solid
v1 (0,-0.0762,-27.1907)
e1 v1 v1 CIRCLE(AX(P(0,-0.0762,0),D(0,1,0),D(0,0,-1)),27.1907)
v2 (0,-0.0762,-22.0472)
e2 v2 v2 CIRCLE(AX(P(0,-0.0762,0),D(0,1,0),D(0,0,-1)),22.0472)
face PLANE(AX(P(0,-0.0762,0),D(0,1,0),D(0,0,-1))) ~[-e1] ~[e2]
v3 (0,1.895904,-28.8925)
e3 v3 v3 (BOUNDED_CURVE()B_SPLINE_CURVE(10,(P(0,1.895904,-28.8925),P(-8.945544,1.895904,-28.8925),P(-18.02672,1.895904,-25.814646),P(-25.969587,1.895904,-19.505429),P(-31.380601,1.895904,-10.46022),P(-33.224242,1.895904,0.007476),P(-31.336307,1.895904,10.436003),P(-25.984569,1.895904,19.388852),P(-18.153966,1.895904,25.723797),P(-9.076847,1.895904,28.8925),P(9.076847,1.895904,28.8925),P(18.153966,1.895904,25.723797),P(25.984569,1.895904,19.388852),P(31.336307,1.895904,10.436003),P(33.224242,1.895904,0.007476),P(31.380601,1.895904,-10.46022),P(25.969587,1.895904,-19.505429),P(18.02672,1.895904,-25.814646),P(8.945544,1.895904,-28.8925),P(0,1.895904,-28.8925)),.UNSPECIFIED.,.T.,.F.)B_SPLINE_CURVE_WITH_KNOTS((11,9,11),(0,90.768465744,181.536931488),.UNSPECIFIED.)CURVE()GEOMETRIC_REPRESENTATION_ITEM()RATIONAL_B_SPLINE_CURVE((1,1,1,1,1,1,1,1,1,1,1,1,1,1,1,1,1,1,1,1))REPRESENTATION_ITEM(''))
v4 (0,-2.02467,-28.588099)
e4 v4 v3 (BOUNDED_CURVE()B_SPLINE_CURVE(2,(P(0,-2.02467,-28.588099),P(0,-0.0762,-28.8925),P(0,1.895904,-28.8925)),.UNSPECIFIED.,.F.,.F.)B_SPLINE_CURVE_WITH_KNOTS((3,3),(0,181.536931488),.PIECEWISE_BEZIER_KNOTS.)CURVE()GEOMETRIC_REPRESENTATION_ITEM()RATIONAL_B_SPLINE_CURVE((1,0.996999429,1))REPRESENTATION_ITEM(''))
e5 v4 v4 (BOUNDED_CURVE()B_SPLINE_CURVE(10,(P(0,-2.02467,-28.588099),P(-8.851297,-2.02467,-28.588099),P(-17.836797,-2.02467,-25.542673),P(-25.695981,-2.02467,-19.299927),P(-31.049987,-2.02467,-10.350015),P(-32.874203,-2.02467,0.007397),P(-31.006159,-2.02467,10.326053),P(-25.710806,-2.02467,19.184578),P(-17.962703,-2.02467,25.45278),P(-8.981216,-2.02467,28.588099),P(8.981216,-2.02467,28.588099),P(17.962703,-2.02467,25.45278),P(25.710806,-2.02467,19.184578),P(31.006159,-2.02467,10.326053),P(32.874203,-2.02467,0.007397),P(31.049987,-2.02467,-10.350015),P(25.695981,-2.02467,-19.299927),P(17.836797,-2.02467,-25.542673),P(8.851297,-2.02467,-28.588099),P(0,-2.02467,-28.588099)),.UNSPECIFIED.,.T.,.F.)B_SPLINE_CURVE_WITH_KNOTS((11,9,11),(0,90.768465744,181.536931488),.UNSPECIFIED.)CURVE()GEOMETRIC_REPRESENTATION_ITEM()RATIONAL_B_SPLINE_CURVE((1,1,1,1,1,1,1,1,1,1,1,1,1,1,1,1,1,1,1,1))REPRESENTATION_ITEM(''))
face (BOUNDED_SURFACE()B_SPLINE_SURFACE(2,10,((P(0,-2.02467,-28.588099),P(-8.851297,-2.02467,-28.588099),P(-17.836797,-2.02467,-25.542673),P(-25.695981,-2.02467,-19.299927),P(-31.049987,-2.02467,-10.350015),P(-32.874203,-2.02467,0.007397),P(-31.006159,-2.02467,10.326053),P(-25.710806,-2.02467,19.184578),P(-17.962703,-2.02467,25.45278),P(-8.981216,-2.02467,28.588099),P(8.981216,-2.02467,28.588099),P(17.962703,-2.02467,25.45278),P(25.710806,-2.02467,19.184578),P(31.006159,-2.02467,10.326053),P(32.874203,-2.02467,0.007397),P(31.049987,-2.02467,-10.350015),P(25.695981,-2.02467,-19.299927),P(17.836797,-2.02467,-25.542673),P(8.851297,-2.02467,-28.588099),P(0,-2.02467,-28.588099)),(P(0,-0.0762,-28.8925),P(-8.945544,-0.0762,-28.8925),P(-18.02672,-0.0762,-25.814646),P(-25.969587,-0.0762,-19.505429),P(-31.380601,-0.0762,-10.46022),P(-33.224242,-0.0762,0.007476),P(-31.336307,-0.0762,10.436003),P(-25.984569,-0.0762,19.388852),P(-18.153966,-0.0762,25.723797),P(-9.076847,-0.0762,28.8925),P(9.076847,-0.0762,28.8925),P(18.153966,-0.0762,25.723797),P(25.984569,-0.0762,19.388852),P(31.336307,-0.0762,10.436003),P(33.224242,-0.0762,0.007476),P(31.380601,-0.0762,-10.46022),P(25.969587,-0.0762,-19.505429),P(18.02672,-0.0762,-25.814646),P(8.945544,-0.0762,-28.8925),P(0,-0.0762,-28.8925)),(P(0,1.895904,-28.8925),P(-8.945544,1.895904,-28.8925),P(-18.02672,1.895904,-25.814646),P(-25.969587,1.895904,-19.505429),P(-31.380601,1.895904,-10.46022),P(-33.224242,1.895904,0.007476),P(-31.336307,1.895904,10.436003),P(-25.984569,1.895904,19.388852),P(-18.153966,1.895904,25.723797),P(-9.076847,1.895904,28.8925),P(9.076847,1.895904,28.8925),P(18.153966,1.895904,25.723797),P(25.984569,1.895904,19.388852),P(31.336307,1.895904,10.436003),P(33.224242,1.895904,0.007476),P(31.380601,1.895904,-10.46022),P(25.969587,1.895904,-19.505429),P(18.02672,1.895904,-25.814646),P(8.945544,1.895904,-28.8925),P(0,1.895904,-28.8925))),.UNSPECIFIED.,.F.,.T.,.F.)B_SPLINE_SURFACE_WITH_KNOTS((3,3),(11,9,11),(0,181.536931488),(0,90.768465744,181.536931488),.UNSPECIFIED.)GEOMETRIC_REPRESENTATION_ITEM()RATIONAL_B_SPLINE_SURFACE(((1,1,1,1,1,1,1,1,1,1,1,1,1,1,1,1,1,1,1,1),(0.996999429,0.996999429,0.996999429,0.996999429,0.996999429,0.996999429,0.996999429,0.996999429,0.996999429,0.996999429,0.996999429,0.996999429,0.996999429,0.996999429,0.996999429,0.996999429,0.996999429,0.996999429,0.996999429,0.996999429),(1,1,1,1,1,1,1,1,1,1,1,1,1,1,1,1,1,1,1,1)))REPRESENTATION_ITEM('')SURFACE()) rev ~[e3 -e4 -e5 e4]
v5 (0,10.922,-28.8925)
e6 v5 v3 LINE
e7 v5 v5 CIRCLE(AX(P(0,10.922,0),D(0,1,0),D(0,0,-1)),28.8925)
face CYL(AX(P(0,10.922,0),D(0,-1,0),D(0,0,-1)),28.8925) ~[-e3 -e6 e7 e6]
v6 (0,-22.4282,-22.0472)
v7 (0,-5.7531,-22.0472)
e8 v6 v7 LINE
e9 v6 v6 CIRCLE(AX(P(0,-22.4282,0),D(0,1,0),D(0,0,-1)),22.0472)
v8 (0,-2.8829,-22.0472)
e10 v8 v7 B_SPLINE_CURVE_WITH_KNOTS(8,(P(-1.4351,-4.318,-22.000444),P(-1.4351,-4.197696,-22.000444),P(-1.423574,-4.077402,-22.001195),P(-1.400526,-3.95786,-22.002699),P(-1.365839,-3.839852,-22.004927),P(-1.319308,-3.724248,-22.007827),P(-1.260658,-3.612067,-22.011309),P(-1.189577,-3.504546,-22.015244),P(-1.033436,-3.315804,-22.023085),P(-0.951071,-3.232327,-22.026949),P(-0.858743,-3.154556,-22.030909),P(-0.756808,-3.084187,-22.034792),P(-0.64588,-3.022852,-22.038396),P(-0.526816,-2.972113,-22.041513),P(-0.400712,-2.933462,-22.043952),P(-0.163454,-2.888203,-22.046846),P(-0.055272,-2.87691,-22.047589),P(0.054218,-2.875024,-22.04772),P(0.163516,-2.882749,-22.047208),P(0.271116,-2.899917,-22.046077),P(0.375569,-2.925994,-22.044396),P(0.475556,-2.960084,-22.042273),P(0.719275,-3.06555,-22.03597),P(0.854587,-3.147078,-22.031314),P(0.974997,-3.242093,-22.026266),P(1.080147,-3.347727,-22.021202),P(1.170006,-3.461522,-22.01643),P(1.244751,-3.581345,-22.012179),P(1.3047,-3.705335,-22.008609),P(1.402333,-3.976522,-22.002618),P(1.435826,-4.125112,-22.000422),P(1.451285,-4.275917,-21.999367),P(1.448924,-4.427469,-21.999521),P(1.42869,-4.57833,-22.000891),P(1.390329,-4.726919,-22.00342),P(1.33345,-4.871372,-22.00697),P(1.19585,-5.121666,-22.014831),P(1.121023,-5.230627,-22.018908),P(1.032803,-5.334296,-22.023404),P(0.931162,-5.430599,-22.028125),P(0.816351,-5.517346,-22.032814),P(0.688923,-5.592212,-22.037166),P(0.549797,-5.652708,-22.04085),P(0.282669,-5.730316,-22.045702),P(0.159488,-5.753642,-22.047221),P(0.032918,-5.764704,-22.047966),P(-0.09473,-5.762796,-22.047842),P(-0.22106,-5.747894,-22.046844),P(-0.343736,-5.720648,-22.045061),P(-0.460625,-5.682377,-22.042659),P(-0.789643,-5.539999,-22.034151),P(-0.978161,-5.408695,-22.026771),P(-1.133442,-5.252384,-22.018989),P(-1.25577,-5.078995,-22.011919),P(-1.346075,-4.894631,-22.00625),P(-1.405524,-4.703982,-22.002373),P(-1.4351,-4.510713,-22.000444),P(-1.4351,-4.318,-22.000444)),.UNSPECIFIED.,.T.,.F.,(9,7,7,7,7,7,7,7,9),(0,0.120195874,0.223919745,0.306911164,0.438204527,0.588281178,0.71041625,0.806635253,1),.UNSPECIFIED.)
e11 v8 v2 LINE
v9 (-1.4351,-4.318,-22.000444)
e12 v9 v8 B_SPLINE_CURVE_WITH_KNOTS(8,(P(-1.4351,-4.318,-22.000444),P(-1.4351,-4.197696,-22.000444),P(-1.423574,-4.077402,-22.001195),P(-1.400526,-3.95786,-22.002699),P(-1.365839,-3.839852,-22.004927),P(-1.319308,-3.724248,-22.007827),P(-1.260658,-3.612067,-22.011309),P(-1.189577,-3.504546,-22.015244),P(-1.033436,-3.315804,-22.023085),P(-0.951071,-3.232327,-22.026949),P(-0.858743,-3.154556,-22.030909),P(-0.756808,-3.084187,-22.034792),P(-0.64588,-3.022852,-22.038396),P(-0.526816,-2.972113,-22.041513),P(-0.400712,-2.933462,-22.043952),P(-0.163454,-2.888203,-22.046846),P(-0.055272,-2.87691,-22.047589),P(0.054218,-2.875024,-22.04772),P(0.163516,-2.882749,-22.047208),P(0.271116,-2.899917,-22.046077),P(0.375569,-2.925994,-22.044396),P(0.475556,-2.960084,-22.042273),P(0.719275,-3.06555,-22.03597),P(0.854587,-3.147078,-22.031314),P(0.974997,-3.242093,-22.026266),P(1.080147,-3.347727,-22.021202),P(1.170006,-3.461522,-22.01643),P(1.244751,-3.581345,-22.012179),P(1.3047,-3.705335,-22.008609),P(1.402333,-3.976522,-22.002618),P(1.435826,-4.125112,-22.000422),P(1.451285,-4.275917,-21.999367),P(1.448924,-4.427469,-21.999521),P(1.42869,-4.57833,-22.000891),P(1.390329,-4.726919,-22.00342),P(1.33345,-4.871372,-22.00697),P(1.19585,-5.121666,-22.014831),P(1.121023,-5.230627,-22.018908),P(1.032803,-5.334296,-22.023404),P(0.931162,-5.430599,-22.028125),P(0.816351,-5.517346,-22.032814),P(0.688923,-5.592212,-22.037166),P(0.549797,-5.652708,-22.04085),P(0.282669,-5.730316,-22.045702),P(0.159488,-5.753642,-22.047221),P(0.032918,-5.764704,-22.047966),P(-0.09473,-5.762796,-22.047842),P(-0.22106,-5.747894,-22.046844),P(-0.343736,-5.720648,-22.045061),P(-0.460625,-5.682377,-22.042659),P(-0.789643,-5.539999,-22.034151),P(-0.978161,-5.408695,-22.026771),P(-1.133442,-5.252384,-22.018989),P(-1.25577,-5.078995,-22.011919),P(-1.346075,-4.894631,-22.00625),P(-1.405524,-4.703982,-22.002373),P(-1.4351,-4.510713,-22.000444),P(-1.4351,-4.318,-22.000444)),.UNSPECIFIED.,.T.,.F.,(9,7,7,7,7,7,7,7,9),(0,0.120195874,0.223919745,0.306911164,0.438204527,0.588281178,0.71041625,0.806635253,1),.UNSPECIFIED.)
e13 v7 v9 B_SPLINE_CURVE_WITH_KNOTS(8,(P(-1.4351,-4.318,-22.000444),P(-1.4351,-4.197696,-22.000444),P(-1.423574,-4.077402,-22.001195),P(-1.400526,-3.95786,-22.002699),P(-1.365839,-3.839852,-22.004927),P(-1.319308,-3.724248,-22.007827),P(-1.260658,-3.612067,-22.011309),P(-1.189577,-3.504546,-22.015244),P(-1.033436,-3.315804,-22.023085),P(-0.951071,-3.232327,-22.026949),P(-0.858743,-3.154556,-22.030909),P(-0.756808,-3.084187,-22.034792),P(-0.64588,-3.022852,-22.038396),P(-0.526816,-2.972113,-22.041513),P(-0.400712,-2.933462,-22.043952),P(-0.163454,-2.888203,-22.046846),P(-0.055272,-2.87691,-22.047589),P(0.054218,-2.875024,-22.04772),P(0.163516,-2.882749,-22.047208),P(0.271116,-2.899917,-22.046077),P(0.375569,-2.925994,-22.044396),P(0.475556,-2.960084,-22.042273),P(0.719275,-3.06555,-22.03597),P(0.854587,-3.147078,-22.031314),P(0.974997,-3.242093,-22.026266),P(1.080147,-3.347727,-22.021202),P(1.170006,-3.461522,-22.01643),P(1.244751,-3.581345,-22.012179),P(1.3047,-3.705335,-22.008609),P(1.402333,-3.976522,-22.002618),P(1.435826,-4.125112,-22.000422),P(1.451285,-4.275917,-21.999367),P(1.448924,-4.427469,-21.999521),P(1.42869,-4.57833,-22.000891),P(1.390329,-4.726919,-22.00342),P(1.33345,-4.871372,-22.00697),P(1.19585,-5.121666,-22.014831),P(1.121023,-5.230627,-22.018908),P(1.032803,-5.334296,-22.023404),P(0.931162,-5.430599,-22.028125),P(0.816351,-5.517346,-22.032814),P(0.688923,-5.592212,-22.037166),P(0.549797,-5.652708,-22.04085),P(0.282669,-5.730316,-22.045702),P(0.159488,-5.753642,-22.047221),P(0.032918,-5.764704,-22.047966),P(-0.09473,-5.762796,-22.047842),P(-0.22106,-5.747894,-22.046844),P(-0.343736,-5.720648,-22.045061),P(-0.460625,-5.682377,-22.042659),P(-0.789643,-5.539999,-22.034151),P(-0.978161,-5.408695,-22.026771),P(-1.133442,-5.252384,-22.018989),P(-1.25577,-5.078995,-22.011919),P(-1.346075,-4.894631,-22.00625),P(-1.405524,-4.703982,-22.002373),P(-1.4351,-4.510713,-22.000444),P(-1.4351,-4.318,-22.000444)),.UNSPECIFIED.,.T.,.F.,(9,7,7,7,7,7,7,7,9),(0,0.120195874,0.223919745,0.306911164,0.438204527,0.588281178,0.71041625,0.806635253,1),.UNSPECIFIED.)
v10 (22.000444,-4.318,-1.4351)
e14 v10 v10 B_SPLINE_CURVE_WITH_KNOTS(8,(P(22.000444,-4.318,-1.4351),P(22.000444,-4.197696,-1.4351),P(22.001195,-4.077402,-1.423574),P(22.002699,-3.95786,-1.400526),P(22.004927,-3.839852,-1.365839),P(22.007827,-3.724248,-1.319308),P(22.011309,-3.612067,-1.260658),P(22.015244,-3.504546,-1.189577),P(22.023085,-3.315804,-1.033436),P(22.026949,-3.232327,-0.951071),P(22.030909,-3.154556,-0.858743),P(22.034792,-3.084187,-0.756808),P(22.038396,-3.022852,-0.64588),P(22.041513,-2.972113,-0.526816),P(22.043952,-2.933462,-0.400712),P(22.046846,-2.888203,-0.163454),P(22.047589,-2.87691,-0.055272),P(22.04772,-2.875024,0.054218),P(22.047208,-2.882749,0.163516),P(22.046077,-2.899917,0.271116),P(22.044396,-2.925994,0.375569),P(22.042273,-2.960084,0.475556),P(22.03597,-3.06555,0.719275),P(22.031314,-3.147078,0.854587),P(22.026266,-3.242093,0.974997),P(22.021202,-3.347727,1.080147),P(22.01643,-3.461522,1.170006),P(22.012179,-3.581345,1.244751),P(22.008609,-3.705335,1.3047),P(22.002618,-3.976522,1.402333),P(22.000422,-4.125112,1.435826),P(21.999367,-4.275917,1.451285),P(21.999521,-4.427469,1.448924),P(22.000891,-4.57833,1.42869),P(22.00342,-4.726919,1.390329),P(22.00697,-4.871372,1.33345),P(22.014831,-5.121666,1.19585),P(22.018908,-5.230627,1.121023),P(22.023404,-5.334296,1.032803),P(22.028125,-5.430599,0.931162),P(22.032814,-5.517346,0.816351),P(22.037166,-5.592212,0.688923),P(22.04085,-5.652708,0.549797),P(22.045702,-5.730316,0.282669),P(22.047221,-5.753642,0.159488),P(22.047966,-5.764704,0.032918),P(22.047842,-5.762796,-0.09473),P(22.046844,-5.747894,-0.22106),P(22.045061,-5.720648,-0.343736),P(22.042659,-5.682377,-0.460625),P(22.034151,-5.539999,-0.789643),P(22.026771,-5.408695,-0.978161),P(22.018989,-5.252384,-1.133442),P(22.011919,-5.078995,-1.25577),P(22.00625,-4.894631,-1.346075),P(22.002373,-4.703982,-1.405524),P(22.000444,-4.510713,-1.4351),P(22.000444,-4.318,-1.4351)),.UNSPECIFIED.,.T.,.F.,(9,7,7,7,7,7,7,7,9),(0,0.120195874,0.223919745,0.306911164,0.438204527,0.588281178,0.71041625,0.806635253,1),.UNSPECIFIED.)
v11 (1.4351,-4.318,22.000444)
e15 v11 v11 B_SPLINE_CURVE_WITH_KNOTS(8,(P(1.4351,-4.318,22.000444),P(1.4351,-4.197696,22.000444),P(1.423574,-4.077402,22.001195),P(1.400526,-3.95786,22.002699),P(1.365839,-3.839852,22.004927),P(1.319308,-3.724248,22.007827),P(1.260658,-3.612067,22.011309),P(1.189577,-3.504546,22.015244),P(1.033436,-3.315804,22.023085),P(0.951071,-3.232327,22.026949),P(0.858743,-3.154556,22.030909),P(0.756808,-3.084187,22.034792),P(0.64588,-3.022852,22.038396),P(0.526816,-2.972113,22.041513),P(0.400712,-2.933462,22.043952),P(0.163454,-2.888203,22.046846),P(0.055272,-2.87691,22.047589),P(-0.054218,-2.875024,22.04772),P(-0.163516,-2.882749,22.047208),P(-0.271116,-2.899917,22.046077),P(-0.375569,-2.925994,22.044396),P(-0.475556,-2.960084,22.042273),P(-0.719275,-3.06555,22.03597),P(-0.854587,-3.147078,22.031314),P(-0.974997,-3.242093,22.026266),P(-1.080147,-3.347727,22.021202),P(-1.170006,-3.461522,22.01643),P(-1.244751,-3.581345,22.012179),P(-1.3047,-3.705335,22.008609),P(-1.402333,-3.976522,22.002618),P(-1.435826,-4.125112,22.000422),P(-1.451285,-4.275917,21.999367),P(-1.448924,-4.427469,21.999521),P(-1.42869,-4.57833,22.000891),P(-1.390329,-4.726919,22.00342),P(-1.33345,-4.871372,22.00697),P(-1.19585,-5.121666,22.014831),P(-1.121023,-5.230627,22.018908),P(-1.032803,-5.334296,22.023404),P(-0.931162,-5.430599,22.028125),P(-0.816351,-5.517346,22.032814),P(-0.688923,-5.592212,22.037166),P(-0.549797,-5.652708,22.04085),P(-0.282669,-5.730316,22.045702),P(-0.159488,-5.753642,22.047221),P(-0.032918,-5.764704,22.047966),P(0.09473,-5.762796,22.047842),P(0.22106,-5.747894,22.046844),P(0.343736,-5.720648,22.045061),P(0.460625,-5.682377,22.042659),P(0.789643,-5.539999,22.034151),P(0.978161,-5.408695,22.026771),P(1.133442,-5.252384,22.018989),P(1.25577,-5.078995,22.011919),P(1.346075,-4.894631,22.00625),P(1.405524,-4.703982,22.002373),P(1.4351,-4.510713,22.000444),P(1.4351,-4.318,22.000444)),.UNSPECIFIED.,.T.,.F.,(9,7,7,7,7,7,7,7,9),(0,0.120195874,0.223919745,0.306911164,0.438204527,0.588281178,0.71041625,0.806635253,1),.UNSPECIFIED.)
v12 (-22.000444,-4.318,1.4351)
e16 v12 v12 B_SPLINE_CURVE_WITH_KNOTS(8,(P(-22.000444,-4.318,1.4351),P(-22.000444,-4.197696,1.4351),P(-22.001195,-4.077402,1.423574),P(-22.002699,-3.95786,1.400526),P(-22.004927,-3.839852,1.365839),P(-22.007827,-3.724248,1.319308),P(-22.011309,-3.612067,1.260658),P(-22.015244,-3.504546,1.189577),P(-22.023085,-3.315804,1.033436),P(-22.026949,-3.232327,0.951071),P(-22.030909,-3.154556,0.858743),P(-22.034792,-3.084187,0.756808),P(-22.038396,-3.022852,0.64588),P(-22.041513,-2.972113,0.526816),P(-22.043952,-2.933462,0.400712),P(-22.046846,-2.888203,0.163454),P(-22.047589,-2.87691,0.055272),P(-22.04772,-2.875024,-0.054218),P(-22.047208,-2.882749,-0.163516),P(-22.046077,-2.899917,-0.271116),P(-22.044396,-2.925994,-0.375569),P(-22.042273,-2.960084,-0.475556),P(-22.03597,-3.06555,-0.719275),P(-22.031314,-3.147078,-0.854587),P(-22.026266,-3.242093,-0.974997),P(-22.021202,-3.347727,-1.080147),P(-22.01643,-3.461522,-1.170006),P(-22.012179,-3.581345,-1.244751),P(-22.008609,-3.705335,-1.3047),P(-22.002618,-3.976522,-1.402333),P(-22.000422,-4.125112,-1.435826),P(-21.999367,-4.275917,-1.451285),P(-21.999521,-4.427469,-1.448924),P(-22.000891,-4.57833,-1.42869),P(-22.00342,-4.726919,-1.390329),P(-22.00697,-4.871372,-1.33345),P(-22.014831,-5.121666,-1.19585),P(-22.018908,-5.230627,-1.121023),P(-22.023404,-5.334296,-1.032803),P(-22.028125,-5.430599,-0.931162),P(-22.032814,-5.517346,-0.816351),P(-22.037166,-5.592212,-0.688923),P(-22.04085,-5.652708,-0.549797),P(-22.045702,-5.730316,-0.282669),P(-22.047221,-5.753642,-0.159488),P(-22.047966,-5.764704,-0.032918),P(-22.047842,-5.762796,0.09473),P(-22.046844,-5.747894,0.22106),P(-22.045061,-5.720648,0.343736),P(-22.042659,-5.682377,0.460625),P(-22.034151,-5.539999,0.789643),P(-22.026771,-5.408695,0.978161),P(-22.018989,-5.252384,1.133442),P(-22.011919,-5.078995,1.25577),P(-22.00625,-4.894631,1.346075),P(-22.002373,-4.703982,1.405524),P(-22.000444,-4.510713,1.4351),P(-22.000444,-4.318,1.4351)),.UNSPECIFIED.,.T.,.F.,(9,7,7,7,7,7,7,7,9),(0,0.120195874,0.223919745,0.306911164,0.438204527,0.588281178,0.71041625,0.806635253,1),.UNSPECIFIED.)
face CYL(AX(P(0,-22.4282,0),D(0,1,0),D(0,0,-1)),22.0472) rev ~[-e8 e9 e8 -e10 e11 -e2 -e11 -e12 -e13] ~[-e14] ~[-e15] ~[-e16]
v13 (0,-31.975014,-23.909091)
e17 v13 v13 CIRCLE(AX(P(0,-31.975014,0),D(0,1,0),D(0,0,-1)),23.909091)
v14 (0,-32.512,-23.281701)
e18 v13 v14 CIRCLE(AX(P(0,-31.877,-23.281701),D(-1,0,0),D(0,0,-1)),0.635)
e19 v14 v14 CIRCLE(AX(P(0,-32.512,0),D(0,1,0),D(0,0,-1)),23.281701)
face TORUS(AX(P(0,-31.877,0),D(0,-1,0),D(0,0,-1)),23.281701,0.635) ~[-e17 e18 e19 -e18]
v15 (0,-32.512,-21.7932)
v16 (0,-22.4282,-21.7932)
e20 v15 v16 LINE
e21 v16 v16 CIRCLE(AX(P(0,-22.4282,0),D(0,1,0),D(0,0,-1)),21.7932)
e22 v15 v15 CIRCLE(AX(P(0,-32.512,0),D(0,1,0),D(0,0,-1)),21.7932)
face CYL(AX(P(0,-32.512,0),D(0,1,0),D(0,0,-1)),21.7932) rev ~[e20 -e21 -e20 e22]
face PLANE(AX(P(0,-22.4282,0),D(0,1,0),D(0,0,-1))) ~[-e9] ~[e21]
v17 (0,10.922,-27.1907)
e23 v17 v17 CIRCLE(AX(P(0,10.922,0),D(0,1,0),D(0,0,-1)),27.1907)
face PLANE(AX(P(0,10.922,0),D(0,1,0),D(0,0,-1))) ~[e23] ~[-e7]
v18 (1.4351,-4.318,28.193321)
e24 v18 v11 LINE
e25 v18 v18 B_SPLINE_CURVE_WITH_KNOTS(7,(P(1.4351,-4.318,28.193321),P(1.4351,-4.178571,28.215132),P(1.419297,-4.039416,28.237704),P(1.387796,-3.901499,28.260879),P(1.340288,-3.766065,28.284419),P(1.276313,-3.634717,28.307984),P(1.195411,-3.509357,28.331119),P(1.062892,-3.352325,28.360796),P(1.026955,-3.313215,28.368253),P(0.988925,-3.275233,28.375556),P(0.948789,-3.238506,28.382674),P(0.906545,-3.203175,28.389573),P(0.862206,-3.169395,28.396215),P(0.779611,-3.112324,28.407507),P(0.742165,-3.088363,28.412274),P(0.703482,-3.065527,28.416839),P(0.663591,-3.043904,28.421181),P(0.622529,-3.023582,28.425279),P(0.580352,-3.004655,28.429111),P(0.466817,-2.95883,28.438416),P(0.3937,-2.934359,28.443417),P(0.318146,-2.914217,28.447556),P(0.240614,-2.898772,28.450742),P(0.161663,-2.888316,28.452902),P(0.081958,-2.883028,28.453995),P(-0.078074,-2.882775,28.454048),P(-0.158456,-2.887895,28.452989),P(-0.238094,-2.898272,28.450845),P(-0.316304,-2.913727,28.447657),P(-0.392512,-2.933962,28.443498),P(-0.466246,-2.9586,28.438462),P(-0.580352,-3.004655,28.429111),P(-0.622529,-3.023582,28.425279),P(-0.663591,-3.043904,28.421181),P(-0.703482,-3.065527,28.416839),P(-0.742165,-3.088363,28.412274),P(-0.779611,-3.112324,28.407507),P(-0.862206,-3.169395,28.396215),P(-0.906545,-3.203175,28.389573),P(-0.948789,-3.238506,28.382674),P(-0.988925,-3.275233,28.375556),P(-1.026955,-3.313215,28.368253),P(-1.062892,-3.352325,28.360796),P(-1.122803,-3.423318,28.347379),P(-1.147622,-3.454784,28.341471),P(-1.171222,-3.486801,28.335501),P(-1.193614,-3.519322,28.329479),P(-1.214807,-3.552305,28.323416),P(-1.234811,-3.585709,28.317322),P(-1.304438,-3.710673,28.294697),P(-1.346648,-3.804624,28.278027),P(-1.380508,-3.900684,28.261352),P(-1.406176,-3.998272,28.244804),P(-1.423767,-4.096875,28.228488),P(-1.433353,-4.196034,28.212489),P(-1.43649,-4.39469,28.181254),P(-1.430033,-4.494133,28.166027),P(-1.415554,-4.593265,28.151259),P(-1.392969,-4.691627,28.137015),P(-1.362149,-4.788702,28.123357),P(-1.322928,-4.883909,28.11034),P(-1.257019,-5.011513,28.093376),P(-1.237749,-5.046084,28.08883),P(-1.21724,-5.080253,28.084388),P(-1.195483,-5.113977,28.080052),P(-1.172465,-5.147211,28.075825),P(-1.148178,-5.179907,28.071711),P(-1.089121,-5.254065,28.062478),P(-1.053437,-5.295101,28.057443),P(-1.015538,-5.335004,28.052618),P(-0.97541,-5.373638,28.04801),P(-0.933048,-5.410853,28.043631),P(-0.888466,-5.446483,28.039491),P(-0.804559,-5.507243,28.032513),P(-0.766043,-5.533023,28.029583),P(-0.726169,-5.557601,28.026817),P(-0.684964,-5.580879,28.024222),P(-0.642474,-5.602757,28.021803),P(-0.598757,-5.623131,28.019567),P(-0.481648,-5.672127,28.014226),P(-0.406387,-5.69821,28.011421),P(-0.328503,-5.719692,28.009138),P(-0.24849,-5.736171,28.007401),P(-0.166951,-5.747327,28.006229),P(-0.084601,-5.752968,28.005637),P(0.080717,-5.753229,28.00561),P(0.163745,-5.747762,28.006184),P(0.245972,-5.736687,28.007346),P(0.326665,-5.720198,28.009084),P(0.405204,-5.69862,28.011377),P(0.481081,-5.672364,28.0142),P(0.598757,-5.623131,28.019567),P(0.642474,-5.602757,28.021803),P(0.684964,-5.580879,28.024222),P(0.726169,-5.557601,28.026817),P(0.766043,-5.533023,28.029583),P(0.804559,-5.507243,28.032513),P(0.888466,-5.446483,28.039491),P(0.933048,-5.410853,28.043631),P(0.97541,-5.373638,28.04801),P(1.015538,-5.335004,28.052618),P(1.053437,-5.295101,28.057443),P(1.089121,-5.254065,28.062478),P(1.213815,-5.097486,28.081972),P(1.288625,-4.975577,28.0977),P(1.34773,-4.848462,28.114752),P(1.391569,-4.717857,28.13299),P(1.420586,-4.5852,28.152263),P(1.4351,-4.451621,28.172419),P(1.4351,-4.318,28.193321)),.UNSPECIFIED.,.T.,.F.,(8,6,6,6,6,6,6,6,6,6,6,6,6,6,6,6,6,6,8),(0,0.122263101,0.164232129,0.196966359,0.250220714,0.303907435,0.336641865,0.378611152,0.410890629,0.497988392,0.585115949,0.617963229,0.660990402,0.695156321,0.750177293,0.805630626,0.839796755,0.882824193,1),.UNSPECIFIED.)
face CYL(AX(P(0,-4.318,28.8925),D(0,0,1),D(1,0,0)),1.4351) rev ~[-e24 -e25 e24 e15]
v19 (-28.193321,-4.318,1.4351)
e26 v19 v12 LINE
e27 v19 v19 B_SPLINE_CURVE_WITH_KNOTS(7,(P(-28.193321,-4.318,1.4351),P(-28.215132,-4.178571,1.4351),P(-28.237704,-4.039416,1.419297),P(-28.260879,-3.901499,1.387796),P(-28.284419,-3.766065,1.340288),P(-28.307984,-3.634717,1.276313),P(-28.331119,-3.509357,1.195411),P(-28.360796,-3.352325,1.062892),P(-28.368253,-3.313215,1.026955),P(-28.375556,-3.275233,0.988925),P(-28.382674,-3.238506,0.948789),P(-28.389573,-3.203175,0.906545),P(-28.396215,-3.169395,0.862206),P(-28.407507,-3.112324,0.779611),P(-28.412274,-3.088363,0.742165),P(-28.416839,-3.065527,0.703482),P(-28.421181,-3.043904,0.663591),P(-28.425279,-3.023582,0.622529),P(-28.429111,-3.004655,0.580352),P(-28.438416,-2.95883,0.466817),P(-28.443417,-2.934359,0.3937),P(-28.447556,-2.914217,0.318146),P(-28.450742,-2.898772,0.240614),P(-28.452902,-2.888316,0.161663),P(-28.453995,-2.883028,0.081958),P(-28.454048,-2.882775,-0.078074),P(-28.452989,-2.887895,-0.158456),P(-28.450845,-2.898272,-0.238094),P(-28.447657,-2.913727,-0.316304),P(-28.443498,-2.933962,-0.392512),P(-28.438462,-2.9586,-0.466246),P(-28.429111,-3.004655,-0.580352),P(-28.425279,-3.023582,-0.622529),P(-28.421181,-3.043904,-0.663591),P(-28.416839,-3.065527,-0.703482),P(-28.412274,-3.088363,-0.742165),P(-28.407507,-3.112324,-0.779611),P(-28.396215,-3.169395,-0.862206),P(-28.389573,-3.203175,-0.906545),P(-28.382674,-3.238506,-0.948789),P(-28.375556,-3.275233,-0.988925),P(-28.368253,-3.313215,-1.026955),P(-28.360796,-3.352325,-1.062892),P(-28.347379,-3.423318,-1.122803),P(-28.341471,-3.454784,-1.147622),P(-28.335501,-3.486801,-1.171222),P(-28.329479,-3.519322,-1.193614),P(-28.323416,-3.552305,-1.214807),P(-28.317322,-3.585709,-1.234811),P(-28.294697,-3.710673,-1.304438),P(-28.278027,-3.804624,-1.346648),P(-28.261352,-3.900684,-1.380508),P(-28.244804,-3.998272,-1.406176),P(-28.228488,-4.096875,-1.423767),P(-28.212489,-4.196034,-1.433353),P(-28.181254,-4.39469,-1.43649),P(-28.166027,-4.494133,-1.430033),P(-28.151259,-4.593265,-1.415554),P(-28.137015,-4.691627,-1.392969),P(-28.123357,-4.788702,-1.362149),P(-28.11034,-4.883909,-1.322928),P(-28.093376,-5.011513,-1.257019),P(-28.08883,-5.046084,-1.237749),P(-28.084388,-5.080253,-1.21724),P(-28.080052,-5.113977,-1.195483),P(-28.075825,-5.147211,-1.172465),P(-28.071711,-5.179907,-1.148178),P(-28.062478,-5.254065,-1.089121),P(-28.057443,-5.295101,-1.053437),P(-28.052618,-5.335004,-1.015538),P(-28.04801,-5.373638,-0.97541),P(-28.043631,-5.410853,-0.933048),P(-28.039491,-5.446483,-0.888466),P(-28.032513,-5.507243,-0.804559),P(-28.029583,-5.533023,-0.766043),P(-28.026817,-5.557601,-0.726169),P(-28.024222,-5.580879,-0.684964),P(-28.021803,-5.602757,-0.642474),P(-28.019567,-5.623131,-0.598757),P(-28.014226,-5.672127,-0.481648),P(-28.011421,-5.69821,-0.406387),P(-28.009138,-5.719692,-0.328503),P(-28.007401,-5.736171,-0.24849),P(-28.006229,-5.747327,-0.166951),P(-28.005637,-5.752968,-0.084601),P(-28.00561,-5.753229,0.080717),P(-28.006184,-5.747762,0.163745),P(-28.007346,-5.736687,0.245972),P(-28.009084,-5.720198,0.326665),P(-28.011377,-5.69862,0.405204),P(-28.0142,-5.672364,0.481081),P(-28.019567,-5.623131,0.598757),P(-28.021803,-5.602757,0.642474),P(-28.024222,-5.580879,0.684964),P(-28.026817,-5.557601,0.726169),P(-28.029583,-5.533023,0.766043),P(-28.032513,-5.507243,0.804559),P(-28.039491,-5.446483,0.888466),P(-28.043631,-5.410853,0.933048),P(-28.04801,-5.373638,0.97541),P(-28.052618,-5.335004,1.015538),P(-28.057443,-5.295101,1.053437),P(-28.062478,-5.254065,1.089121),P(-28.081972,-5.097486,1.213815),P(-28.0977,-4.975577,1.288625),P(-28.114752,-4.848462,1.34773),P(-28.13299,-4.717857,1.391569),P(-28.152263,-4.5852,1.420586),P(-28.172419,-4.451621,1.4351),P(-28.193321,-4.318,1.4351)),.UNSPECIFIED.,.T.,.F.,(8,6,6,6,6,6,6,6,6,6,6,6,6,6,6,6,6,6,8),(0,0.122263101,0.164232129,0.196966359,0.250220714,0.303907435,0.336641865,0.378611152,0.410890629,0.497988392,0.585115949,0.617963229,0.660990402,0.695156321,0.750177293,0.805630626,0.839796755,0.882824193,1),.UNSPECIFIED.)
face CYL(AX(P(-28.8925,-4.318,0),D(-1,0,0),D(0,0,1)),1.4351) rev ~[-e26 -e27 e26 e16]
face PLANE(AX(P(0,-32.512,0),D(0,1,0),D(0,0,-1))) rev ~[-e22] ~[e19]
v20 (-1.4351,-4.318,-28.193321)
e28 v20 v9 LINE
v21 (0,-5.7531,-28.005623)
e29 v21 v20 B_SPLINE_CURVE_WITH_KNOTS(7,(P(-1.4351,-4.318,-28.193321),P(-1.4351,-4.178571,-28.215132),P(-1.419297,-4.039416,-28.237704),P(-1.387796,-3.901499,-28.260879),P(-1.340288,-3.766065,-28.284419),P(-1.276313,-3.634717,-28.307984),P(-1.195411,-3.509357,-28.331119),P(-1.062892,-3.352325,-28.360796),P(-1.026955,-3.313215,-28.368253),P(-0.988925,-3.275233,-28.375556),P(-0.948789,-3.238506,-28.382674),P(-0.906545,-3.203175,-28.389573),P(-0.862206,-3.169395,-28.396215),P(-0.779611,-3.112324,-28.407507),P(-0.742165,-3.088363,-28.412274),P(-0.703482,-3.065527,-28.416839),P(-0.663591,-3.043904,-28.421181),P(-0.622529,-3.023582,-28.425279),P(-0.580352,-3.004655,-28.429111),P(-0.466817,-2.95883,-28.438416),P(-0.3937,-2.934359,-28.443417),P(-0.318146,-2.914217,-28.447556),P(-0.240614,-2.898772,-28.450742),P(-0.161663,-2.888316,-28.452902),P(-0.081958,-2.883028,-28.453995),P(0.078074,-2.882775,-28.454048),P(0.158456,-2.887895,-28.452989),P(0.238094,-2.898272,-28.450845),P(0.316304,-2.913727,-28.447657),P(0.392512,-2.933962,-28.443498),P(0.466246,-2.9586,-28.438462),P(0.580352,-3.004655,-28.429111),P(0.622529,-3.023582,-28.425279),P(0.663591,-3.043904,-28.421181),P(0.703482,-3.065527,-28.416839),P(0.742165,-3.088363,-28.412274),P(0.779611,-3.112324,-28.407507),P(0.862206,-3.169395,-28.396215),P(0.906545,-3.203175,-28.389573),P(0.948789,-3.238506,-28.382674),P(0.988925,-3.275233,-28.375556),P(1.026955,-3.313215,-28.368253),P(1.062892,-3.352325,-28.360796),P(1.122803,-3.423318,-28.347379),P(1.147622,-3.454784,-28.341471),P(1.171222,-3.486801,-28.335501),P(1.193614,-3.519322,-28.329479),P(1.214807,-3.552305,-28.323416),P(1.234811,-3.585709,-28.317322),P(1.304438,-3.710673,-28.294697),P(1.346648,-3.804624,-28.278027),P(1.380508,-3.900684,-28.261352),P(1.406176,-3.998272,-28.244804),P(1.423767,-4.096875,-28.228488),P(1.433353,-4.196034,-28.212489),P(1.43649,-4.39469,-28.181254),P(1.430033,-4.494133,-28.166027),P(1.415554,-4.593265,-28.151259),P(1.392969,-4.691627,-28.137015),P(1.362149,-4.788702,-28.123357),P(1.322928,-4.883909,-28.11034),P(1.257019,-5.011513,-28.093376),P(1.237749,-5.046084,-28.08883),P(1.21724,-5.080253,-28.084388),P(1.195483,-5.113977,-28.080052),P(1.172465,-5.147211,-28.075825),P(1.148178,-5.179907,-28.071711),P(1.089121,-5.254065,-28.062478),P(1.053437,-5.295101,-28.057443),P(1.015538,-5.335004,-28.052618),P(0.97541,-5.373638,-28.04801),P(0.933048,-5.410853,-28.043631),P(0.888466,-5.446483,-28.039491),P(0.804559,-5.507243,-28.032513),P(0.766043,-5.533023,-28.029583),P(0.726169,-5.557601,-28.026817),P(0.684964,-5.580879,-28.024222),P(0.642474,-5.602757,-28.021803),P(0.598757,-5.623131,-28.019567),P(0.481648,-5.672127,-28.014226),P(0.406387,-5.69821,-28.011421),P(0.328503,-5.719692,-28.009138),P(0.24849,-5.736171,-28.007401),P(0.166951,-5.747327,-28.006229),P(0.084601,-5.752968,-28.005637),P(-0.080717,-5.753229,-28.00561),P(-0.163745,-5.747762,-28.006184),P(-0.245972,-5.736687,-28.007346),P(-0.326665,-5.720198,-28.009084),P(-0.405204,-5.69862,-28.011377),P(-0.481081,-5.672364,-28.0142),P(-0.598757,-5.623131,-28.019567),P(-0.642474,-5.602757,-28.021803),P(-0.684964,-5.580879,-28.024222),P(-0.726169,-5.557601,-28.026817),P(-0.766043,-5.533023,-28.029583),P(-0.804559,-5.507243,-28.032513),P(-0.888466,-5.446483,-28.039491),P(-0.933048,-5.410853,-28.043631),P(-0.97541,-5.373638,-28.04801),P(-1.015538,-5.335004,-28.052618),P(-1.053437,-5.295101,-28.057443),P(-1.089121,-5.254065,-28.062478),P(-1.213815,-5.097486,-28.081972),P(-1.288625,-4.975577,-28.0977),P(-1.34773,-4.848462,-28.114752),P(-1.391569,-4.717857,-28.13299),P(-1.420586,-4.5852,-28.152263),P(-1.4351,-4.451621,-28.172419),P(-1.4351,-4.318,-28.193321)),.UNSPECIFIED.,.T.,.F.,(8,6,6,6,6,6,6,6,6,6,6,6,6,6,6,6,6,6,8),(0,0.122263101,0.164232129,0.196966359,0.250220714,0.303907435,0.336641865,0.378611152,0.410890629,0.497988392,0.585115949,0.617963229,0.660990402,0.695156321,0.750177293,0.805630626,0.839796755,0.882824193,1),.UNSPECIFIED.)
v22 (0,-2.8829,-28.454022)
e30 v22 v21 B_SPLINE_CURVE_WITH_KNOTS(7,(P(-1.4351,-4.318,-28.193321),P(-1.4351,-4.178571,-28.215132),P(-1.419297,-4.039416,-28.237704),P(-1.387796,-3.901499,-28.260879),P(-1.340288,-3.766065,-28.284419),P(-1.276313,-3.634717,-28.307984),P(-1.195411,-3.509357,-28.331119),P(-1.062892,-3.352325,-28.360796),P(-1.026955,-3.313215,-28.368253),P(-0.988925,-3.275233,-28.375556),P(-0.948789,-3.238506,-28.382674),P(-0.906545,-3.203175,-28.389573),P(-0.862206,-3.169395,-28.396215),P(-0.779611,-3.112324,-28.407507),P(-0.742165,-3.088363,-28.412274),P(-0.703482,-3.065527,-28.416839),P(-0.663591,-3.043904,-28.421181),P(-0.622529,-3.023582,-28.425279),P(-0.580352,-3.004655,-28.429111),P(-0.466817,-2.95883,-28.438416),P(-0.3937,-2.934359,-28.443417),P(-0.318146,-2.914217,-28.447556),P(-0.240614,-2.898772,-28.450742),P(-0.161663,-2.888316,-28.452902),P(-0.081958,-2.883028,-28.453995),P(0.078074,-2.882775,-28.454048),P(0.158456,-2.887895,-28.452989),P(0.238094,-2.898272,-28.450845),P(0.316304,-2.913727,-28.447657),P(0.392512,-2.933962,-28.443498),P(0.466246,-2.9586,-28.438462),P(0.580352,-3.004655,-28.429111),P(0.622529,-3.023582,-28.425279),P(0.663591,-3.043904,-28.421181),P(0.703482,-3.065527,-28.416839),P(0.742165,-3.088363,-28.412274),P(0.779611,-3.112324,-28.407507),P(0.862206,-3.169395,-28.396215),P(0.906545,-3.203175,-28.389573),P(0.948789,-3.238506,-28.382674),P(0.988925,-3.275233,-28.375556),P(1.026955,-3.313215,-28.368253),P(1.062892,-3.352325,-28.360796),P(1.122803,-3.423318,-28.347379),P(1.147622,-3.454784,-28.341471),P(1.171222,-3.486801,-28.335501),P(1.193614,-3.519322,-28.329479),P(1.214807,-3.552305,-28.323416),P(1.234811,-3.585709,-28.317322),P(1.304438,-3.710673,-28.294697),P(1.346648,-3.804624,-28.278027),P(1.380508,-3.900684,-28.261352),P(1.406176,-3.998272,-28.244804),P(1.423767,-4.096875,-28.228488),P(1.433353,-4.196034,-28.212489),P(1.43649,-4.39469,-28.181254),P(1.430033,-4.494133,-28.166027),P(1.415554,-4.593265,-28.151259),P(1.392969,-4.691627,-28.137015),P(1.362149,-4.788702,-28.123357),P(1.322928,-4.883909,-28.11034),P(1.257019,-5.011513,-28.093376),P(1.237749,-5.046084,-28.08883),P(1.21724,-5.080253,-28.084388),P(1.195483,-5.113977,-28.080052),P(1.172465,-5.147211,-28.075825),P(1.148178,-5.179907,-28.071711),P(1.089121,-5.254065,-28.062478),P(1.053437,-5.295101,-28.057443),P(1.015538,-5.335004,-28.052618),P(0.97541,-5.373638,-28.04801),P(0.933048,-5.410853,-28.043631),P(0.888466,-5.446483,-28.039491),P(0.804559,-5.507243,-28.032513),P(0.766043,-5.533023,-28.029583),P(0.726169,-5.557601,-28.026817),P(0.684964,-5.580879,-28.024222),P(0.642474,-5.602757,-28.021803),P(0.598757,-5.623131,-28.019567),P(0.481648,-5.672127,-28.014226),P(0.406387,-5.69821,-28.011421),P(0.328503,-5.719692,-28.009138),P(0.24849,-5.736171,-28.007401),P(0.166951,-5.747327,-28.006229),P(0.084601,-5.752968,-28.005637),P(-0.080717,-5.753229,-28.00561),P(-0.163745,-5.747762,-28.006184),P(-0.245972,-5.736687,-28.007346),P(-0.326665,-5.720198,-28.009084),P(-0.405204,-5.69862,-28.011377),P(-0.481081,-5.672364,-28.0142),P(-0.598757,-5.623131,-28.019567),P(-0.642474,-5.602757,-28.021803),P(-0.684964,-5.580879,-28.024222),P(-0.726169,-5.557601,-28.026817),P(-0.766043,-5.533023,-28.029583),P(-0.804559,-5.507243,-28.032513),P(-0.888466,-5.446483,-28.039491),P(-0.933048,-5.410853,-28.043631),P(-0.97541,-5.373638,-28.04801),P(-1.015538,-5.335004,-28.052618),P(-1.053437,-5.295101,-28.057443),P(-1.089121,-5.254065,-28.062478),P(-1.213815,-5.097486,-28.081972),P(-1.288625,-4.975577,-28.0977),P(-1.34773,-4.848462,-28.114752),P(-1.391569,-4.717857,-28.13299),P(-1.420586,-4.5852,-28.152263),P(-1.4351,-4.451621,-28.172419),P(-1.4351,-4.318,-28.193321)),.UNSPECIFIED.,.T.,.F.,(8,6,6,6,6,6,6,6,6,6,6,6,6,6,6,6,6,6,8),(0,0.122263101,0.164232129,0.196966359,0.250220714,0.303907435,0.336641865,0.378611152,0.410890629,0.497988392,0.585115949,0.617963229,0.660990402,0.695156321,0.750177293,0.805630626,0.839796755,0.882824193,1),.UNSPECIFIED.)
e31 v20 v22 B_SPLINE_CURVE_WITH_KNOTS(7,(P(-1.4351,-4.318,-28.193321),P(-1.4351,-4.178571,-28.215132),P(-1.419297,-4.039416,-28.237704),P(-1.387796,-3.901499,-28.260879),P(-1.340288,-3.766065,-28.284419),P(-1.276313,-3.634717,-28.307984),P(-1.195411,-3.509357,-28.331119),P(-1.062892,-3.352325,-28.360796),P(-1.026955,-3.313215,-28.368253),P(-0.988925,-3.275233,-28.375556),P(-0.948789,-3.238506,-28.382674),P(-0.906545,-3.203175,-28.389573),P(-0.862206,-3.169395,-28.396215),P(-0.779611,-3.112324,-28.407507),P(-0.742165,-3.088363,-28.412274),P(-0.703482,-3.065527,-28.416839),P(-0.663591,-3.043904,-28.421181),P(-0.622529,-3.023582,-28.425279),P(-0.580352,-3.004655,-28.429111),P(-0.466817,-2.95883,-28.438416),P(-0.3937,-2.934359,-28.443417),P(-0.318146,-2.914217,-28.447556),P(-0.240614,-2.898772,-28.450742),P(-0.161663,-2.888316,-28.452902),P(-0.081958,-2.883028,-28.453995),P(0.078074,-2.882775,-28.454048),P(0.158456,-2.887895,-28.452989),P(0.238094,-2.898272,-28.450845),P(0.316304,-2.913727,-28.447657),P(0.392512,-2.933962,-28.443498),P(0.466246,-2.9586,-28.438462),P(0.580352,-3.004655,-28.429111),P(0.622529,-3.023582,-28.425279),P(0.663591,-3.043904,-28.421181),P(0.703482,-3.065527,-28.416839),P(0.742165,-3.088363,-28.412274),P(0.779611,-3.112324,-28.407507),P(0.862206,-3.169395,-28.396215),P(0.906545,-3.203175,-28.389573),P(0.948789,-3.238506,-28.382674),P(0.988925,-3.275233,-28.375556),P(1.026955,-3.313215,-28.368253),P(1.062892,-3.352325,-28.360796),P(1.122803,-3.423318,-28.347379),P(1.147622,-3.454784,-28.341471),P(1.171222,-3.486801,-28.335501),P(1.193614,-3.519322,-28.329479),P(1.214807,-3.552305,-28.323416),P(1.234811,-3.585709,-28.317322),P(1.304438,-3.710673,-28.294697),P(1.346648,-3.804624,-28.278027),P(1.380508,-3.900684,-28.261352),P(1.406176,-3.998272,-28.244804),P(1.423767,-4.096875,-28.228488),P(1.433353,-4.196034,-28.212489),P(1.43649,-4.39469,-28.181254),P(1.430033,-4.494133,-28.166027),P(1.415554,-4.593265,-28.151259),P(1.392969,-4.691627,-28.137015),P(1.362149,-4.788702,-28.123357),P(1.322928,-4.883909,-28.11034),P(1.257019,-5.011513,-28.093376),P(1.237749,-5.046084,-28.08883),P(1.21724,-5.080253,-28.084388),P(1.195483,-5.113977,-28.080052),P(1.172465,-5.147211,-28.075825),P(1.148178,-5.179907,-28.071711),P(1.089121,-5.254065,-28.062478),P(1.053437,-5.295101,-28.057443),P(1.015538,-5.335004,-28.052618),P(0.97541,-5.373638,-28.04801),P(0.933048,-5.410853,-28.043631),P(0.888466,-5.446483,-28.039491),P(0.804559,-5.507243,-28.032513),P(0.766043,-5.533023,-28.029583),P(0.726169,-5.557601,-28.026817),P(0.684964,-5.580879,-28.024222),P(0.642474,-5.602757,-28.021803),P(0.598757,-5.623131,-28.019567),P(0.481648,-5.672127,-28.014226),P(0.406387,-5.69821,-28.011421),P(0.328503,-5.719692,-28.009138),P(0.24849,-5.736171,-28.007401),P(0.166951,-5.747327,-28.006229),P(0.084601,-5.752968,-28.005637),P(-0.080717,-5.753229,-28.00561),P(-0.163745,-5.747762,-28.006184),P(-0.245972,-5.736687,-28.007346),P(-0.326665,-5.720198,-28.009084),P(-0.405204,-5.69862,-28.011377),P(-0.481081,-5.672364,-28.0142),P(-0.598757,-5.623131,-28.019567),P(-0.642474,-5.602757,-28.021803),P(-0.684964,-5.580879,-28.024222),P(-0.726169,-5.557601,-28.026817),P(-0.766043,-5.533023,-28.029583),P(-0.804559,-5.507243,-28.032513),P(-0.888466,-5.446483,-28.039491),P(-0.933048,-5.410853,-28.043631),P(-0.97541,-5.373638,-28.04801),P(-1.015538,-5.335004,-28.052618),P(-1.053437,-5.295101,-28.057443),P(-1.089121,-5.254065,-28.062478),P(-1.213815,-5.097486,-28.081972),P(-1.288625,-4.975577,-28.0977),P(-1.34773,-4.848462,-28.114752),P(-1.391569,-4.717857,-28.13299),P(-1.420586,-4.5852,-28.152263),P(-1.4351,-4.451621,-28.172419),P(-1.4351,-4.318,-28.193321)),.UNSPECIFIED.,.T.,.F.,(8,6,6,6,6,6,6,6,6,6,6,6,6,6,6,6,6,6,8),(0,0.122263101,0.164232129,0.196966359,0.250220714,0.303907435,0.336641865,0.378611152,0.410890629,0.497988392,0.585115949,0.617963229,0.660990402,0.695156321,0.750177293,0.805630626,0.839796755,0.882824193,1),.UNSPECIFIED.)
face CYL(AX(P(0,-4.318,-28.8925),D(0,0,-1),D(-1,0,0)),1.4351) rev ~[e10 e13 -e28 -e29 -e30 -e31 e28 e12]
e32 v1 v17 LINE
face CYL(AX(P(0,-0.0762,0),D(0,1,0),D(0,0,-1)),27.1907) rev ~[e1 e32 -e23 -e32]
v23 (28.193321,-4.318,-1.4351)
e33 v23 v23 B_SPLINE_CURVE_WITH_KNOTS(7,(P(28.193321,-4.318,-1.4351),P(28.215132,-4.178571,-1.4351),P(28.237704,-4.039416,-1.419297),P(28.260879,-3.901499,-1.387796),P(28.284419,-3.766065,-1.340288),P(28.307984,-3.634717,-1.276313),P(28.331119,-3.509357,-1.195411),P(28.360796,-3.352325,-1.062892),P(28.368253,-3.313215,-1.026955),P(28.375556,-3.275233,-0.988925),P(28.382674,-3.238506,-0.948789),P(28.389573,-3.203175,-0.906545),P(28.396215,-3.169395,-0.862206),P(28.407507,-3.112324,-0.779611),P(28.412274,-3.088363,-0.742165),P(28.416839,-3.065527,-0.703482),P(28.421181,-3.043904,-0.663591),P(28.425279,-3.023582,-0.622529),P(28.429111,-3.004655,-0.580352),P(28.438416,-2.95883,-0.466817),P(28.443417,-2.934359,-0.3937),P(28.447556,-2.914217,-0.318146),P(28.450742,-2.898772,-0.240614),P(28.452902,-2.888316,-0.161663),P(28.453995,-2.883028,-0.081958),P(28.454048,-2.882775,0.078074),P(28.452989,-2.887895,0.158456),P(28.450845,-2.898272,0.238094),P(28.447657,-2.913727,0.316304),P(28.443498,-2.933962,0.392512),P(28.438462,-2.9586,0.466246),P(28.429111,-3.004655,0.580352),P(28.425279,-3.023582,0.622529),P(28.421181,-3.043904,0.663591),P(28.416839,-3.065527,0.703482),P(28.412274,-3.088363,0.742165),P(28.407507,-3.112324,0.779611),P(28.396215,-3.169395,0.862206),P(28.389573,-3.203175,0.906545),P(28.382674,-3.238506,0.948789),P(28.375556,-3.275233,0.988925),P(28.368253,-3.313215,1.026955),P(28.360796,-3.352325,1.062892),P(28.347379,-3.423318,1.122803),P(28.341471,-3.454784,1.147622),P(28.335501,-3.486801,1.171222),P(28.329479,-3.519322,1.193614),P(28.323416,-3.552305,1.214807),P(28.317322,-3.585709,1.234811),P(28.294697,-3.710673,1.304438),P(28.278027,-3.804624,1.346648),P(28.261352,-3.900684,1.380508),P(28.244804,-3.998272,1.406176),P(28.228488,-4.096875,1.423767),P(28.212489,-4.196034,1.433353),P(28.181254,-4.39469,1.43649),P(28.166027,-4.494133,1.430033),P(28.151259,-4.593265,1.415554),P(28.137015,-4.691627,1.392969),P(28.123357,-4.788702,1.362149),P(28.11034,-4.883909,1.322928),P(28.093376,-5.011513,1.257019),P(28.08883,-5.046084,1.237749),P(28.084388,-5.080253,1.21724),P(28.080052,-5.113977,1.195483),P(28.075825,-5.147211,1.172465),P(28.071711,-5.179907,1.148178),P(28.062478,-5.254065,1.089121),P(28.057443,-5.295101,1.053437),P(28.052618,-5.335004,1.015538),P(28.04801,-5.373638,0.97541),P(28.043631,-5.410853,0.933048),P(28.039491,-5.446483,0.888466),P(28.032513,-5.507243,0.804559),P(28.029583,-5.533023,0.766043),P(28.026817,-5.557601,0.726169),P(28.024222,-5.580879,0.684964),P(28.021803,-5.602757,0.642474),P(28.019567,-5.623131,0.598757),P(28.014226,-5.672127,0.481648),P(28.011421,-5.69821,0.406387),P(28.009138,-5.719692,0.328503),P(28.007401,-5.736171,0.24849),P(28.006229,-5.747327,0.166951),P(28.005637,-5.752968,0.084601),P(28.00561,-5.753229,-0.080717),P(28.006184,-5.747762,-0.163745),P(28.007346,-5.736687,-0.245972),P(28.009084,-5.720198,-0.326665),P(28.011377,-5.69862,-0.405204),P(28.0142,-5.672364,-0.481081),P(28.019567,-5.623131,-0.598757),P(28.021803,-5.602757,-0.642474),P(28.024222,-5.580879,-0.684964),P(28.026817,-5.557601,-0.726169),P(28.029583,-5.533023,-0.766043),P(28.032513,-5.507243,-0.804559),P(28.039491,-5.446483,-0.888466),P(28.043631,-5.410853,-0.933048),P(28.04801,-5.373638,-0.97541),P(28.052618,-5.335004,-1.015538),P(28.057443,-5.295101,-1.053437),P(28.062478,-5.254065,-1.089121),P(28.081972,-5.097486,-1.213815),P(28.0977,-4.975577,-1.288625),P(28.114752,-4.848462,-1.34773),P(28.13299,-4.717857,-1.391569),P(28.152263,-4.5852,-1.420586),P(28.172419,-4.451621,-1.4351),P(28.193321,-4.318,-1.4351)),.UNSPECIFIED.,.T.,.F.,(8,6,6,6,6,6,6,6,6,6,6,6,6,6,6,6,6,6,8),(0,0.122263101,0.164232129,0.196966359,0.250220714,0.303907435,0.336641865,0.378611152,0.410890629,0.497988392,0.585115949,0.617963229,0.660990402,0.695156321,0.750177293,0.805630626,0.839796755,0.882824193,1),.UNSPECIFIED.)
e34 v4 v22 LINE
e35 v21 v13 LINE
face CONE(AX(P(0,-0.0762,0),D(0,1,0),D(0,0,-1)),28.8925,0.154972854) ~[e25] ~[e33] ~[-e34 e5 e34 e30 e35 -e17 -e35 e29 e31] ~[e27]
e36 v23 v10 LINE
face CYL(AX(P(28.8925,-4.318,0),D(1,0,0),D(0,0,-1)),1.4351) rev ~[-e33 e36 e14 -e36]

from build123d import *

# Parameters (mm, degrees)
F_6_40_TAPPED_HOLE1_REACH  = 74.325
F_6_40_TAPPED_HOLE1_BORE_R = 1.4351
CIRPATTERN1_COUNT          = 4
FILLET1_R                  = 0.635
FILLET2_R                  = 25.4


with BuildPart() as part:
    # Sketch2 → Revolve1 (revolve)
    with BuildSketch(Plane.XY, mode=Mode.PRIVATE) as revolve1_sk:
        Polygon((22.0472, -22.4282), (22.0472, -0.0762), (27.1907, -0.0762), (27.1907, 10.922), (28.8925, 10.922), (28.8925, -0.0762), (23.8252, -32.512), (21.7932, -32.512), (21.7932, -22.4282), align=None)
    revolve(revolve1_sk.sketch.rotate(Axis((0, -34.5451, 0), (0, 1, 0)), 90), axis=Axis((0, -34.5451, 0), (0, 1, 0)))

    # #6-40 Tapped Hole1 bore → #6-40 Tapped Hole1 (cut, up to next)
    with BuildSketch(Plane.XY.offset(28.8925), mode=Mode.PRIVATE) as f_6_40_tapped_hole1_sk1:
        with Locations((0, -4.318)):
            Circle(F_6_40_TAPPED_HOLE1_BORE_R)
    f_6_40_tapped_hole1_tool1 = extrude(f_6_40_tapped_hole1_sk1.sketch, amount=-F_6_40_TAPPED_HOLE1_REACH, mode=Mode.PRIVATE) & part.part
    f_6_40_tapped_hole1 = f_6_40_tapped_hole1_tool1.solids().sort_by_distance((0, -4.318, 28.8925))[0]
    add(f_6_40_tapped_hole1, mode=Mode.SUBTRACT)

    # CirPattern1: #6-40 Tapped Hole1 ×4 about axis
    cirpattern1_axis = Axis((0, -34.5451, 0), (0, -1, 0))
    for i in range(1, CIRPATTERN1_COUNT):
        add(f_6_40_tapped_hole1.rotate(cirpattern1_axis, i * 360 / CIRPATTERN1_COUNT), mode=Mode.SUBTRACT)

    # Fillet1
    fillet1_edges = [part.edges().sort_by_distance(p)[0] for p in [
        (0, -32.512, 23.8252),
    ]]
    fillet(fillet1_edges, radius=FILLET1_R)

    # Fillet2
    fillet2_edges = [part.edges().sort_by_distance(p)[0] for p in [
        (0, -0.0762, 28.8925),
    ]]
    fillet(fillet2_edges, radius=FILLET2_R)


solid = part.part
